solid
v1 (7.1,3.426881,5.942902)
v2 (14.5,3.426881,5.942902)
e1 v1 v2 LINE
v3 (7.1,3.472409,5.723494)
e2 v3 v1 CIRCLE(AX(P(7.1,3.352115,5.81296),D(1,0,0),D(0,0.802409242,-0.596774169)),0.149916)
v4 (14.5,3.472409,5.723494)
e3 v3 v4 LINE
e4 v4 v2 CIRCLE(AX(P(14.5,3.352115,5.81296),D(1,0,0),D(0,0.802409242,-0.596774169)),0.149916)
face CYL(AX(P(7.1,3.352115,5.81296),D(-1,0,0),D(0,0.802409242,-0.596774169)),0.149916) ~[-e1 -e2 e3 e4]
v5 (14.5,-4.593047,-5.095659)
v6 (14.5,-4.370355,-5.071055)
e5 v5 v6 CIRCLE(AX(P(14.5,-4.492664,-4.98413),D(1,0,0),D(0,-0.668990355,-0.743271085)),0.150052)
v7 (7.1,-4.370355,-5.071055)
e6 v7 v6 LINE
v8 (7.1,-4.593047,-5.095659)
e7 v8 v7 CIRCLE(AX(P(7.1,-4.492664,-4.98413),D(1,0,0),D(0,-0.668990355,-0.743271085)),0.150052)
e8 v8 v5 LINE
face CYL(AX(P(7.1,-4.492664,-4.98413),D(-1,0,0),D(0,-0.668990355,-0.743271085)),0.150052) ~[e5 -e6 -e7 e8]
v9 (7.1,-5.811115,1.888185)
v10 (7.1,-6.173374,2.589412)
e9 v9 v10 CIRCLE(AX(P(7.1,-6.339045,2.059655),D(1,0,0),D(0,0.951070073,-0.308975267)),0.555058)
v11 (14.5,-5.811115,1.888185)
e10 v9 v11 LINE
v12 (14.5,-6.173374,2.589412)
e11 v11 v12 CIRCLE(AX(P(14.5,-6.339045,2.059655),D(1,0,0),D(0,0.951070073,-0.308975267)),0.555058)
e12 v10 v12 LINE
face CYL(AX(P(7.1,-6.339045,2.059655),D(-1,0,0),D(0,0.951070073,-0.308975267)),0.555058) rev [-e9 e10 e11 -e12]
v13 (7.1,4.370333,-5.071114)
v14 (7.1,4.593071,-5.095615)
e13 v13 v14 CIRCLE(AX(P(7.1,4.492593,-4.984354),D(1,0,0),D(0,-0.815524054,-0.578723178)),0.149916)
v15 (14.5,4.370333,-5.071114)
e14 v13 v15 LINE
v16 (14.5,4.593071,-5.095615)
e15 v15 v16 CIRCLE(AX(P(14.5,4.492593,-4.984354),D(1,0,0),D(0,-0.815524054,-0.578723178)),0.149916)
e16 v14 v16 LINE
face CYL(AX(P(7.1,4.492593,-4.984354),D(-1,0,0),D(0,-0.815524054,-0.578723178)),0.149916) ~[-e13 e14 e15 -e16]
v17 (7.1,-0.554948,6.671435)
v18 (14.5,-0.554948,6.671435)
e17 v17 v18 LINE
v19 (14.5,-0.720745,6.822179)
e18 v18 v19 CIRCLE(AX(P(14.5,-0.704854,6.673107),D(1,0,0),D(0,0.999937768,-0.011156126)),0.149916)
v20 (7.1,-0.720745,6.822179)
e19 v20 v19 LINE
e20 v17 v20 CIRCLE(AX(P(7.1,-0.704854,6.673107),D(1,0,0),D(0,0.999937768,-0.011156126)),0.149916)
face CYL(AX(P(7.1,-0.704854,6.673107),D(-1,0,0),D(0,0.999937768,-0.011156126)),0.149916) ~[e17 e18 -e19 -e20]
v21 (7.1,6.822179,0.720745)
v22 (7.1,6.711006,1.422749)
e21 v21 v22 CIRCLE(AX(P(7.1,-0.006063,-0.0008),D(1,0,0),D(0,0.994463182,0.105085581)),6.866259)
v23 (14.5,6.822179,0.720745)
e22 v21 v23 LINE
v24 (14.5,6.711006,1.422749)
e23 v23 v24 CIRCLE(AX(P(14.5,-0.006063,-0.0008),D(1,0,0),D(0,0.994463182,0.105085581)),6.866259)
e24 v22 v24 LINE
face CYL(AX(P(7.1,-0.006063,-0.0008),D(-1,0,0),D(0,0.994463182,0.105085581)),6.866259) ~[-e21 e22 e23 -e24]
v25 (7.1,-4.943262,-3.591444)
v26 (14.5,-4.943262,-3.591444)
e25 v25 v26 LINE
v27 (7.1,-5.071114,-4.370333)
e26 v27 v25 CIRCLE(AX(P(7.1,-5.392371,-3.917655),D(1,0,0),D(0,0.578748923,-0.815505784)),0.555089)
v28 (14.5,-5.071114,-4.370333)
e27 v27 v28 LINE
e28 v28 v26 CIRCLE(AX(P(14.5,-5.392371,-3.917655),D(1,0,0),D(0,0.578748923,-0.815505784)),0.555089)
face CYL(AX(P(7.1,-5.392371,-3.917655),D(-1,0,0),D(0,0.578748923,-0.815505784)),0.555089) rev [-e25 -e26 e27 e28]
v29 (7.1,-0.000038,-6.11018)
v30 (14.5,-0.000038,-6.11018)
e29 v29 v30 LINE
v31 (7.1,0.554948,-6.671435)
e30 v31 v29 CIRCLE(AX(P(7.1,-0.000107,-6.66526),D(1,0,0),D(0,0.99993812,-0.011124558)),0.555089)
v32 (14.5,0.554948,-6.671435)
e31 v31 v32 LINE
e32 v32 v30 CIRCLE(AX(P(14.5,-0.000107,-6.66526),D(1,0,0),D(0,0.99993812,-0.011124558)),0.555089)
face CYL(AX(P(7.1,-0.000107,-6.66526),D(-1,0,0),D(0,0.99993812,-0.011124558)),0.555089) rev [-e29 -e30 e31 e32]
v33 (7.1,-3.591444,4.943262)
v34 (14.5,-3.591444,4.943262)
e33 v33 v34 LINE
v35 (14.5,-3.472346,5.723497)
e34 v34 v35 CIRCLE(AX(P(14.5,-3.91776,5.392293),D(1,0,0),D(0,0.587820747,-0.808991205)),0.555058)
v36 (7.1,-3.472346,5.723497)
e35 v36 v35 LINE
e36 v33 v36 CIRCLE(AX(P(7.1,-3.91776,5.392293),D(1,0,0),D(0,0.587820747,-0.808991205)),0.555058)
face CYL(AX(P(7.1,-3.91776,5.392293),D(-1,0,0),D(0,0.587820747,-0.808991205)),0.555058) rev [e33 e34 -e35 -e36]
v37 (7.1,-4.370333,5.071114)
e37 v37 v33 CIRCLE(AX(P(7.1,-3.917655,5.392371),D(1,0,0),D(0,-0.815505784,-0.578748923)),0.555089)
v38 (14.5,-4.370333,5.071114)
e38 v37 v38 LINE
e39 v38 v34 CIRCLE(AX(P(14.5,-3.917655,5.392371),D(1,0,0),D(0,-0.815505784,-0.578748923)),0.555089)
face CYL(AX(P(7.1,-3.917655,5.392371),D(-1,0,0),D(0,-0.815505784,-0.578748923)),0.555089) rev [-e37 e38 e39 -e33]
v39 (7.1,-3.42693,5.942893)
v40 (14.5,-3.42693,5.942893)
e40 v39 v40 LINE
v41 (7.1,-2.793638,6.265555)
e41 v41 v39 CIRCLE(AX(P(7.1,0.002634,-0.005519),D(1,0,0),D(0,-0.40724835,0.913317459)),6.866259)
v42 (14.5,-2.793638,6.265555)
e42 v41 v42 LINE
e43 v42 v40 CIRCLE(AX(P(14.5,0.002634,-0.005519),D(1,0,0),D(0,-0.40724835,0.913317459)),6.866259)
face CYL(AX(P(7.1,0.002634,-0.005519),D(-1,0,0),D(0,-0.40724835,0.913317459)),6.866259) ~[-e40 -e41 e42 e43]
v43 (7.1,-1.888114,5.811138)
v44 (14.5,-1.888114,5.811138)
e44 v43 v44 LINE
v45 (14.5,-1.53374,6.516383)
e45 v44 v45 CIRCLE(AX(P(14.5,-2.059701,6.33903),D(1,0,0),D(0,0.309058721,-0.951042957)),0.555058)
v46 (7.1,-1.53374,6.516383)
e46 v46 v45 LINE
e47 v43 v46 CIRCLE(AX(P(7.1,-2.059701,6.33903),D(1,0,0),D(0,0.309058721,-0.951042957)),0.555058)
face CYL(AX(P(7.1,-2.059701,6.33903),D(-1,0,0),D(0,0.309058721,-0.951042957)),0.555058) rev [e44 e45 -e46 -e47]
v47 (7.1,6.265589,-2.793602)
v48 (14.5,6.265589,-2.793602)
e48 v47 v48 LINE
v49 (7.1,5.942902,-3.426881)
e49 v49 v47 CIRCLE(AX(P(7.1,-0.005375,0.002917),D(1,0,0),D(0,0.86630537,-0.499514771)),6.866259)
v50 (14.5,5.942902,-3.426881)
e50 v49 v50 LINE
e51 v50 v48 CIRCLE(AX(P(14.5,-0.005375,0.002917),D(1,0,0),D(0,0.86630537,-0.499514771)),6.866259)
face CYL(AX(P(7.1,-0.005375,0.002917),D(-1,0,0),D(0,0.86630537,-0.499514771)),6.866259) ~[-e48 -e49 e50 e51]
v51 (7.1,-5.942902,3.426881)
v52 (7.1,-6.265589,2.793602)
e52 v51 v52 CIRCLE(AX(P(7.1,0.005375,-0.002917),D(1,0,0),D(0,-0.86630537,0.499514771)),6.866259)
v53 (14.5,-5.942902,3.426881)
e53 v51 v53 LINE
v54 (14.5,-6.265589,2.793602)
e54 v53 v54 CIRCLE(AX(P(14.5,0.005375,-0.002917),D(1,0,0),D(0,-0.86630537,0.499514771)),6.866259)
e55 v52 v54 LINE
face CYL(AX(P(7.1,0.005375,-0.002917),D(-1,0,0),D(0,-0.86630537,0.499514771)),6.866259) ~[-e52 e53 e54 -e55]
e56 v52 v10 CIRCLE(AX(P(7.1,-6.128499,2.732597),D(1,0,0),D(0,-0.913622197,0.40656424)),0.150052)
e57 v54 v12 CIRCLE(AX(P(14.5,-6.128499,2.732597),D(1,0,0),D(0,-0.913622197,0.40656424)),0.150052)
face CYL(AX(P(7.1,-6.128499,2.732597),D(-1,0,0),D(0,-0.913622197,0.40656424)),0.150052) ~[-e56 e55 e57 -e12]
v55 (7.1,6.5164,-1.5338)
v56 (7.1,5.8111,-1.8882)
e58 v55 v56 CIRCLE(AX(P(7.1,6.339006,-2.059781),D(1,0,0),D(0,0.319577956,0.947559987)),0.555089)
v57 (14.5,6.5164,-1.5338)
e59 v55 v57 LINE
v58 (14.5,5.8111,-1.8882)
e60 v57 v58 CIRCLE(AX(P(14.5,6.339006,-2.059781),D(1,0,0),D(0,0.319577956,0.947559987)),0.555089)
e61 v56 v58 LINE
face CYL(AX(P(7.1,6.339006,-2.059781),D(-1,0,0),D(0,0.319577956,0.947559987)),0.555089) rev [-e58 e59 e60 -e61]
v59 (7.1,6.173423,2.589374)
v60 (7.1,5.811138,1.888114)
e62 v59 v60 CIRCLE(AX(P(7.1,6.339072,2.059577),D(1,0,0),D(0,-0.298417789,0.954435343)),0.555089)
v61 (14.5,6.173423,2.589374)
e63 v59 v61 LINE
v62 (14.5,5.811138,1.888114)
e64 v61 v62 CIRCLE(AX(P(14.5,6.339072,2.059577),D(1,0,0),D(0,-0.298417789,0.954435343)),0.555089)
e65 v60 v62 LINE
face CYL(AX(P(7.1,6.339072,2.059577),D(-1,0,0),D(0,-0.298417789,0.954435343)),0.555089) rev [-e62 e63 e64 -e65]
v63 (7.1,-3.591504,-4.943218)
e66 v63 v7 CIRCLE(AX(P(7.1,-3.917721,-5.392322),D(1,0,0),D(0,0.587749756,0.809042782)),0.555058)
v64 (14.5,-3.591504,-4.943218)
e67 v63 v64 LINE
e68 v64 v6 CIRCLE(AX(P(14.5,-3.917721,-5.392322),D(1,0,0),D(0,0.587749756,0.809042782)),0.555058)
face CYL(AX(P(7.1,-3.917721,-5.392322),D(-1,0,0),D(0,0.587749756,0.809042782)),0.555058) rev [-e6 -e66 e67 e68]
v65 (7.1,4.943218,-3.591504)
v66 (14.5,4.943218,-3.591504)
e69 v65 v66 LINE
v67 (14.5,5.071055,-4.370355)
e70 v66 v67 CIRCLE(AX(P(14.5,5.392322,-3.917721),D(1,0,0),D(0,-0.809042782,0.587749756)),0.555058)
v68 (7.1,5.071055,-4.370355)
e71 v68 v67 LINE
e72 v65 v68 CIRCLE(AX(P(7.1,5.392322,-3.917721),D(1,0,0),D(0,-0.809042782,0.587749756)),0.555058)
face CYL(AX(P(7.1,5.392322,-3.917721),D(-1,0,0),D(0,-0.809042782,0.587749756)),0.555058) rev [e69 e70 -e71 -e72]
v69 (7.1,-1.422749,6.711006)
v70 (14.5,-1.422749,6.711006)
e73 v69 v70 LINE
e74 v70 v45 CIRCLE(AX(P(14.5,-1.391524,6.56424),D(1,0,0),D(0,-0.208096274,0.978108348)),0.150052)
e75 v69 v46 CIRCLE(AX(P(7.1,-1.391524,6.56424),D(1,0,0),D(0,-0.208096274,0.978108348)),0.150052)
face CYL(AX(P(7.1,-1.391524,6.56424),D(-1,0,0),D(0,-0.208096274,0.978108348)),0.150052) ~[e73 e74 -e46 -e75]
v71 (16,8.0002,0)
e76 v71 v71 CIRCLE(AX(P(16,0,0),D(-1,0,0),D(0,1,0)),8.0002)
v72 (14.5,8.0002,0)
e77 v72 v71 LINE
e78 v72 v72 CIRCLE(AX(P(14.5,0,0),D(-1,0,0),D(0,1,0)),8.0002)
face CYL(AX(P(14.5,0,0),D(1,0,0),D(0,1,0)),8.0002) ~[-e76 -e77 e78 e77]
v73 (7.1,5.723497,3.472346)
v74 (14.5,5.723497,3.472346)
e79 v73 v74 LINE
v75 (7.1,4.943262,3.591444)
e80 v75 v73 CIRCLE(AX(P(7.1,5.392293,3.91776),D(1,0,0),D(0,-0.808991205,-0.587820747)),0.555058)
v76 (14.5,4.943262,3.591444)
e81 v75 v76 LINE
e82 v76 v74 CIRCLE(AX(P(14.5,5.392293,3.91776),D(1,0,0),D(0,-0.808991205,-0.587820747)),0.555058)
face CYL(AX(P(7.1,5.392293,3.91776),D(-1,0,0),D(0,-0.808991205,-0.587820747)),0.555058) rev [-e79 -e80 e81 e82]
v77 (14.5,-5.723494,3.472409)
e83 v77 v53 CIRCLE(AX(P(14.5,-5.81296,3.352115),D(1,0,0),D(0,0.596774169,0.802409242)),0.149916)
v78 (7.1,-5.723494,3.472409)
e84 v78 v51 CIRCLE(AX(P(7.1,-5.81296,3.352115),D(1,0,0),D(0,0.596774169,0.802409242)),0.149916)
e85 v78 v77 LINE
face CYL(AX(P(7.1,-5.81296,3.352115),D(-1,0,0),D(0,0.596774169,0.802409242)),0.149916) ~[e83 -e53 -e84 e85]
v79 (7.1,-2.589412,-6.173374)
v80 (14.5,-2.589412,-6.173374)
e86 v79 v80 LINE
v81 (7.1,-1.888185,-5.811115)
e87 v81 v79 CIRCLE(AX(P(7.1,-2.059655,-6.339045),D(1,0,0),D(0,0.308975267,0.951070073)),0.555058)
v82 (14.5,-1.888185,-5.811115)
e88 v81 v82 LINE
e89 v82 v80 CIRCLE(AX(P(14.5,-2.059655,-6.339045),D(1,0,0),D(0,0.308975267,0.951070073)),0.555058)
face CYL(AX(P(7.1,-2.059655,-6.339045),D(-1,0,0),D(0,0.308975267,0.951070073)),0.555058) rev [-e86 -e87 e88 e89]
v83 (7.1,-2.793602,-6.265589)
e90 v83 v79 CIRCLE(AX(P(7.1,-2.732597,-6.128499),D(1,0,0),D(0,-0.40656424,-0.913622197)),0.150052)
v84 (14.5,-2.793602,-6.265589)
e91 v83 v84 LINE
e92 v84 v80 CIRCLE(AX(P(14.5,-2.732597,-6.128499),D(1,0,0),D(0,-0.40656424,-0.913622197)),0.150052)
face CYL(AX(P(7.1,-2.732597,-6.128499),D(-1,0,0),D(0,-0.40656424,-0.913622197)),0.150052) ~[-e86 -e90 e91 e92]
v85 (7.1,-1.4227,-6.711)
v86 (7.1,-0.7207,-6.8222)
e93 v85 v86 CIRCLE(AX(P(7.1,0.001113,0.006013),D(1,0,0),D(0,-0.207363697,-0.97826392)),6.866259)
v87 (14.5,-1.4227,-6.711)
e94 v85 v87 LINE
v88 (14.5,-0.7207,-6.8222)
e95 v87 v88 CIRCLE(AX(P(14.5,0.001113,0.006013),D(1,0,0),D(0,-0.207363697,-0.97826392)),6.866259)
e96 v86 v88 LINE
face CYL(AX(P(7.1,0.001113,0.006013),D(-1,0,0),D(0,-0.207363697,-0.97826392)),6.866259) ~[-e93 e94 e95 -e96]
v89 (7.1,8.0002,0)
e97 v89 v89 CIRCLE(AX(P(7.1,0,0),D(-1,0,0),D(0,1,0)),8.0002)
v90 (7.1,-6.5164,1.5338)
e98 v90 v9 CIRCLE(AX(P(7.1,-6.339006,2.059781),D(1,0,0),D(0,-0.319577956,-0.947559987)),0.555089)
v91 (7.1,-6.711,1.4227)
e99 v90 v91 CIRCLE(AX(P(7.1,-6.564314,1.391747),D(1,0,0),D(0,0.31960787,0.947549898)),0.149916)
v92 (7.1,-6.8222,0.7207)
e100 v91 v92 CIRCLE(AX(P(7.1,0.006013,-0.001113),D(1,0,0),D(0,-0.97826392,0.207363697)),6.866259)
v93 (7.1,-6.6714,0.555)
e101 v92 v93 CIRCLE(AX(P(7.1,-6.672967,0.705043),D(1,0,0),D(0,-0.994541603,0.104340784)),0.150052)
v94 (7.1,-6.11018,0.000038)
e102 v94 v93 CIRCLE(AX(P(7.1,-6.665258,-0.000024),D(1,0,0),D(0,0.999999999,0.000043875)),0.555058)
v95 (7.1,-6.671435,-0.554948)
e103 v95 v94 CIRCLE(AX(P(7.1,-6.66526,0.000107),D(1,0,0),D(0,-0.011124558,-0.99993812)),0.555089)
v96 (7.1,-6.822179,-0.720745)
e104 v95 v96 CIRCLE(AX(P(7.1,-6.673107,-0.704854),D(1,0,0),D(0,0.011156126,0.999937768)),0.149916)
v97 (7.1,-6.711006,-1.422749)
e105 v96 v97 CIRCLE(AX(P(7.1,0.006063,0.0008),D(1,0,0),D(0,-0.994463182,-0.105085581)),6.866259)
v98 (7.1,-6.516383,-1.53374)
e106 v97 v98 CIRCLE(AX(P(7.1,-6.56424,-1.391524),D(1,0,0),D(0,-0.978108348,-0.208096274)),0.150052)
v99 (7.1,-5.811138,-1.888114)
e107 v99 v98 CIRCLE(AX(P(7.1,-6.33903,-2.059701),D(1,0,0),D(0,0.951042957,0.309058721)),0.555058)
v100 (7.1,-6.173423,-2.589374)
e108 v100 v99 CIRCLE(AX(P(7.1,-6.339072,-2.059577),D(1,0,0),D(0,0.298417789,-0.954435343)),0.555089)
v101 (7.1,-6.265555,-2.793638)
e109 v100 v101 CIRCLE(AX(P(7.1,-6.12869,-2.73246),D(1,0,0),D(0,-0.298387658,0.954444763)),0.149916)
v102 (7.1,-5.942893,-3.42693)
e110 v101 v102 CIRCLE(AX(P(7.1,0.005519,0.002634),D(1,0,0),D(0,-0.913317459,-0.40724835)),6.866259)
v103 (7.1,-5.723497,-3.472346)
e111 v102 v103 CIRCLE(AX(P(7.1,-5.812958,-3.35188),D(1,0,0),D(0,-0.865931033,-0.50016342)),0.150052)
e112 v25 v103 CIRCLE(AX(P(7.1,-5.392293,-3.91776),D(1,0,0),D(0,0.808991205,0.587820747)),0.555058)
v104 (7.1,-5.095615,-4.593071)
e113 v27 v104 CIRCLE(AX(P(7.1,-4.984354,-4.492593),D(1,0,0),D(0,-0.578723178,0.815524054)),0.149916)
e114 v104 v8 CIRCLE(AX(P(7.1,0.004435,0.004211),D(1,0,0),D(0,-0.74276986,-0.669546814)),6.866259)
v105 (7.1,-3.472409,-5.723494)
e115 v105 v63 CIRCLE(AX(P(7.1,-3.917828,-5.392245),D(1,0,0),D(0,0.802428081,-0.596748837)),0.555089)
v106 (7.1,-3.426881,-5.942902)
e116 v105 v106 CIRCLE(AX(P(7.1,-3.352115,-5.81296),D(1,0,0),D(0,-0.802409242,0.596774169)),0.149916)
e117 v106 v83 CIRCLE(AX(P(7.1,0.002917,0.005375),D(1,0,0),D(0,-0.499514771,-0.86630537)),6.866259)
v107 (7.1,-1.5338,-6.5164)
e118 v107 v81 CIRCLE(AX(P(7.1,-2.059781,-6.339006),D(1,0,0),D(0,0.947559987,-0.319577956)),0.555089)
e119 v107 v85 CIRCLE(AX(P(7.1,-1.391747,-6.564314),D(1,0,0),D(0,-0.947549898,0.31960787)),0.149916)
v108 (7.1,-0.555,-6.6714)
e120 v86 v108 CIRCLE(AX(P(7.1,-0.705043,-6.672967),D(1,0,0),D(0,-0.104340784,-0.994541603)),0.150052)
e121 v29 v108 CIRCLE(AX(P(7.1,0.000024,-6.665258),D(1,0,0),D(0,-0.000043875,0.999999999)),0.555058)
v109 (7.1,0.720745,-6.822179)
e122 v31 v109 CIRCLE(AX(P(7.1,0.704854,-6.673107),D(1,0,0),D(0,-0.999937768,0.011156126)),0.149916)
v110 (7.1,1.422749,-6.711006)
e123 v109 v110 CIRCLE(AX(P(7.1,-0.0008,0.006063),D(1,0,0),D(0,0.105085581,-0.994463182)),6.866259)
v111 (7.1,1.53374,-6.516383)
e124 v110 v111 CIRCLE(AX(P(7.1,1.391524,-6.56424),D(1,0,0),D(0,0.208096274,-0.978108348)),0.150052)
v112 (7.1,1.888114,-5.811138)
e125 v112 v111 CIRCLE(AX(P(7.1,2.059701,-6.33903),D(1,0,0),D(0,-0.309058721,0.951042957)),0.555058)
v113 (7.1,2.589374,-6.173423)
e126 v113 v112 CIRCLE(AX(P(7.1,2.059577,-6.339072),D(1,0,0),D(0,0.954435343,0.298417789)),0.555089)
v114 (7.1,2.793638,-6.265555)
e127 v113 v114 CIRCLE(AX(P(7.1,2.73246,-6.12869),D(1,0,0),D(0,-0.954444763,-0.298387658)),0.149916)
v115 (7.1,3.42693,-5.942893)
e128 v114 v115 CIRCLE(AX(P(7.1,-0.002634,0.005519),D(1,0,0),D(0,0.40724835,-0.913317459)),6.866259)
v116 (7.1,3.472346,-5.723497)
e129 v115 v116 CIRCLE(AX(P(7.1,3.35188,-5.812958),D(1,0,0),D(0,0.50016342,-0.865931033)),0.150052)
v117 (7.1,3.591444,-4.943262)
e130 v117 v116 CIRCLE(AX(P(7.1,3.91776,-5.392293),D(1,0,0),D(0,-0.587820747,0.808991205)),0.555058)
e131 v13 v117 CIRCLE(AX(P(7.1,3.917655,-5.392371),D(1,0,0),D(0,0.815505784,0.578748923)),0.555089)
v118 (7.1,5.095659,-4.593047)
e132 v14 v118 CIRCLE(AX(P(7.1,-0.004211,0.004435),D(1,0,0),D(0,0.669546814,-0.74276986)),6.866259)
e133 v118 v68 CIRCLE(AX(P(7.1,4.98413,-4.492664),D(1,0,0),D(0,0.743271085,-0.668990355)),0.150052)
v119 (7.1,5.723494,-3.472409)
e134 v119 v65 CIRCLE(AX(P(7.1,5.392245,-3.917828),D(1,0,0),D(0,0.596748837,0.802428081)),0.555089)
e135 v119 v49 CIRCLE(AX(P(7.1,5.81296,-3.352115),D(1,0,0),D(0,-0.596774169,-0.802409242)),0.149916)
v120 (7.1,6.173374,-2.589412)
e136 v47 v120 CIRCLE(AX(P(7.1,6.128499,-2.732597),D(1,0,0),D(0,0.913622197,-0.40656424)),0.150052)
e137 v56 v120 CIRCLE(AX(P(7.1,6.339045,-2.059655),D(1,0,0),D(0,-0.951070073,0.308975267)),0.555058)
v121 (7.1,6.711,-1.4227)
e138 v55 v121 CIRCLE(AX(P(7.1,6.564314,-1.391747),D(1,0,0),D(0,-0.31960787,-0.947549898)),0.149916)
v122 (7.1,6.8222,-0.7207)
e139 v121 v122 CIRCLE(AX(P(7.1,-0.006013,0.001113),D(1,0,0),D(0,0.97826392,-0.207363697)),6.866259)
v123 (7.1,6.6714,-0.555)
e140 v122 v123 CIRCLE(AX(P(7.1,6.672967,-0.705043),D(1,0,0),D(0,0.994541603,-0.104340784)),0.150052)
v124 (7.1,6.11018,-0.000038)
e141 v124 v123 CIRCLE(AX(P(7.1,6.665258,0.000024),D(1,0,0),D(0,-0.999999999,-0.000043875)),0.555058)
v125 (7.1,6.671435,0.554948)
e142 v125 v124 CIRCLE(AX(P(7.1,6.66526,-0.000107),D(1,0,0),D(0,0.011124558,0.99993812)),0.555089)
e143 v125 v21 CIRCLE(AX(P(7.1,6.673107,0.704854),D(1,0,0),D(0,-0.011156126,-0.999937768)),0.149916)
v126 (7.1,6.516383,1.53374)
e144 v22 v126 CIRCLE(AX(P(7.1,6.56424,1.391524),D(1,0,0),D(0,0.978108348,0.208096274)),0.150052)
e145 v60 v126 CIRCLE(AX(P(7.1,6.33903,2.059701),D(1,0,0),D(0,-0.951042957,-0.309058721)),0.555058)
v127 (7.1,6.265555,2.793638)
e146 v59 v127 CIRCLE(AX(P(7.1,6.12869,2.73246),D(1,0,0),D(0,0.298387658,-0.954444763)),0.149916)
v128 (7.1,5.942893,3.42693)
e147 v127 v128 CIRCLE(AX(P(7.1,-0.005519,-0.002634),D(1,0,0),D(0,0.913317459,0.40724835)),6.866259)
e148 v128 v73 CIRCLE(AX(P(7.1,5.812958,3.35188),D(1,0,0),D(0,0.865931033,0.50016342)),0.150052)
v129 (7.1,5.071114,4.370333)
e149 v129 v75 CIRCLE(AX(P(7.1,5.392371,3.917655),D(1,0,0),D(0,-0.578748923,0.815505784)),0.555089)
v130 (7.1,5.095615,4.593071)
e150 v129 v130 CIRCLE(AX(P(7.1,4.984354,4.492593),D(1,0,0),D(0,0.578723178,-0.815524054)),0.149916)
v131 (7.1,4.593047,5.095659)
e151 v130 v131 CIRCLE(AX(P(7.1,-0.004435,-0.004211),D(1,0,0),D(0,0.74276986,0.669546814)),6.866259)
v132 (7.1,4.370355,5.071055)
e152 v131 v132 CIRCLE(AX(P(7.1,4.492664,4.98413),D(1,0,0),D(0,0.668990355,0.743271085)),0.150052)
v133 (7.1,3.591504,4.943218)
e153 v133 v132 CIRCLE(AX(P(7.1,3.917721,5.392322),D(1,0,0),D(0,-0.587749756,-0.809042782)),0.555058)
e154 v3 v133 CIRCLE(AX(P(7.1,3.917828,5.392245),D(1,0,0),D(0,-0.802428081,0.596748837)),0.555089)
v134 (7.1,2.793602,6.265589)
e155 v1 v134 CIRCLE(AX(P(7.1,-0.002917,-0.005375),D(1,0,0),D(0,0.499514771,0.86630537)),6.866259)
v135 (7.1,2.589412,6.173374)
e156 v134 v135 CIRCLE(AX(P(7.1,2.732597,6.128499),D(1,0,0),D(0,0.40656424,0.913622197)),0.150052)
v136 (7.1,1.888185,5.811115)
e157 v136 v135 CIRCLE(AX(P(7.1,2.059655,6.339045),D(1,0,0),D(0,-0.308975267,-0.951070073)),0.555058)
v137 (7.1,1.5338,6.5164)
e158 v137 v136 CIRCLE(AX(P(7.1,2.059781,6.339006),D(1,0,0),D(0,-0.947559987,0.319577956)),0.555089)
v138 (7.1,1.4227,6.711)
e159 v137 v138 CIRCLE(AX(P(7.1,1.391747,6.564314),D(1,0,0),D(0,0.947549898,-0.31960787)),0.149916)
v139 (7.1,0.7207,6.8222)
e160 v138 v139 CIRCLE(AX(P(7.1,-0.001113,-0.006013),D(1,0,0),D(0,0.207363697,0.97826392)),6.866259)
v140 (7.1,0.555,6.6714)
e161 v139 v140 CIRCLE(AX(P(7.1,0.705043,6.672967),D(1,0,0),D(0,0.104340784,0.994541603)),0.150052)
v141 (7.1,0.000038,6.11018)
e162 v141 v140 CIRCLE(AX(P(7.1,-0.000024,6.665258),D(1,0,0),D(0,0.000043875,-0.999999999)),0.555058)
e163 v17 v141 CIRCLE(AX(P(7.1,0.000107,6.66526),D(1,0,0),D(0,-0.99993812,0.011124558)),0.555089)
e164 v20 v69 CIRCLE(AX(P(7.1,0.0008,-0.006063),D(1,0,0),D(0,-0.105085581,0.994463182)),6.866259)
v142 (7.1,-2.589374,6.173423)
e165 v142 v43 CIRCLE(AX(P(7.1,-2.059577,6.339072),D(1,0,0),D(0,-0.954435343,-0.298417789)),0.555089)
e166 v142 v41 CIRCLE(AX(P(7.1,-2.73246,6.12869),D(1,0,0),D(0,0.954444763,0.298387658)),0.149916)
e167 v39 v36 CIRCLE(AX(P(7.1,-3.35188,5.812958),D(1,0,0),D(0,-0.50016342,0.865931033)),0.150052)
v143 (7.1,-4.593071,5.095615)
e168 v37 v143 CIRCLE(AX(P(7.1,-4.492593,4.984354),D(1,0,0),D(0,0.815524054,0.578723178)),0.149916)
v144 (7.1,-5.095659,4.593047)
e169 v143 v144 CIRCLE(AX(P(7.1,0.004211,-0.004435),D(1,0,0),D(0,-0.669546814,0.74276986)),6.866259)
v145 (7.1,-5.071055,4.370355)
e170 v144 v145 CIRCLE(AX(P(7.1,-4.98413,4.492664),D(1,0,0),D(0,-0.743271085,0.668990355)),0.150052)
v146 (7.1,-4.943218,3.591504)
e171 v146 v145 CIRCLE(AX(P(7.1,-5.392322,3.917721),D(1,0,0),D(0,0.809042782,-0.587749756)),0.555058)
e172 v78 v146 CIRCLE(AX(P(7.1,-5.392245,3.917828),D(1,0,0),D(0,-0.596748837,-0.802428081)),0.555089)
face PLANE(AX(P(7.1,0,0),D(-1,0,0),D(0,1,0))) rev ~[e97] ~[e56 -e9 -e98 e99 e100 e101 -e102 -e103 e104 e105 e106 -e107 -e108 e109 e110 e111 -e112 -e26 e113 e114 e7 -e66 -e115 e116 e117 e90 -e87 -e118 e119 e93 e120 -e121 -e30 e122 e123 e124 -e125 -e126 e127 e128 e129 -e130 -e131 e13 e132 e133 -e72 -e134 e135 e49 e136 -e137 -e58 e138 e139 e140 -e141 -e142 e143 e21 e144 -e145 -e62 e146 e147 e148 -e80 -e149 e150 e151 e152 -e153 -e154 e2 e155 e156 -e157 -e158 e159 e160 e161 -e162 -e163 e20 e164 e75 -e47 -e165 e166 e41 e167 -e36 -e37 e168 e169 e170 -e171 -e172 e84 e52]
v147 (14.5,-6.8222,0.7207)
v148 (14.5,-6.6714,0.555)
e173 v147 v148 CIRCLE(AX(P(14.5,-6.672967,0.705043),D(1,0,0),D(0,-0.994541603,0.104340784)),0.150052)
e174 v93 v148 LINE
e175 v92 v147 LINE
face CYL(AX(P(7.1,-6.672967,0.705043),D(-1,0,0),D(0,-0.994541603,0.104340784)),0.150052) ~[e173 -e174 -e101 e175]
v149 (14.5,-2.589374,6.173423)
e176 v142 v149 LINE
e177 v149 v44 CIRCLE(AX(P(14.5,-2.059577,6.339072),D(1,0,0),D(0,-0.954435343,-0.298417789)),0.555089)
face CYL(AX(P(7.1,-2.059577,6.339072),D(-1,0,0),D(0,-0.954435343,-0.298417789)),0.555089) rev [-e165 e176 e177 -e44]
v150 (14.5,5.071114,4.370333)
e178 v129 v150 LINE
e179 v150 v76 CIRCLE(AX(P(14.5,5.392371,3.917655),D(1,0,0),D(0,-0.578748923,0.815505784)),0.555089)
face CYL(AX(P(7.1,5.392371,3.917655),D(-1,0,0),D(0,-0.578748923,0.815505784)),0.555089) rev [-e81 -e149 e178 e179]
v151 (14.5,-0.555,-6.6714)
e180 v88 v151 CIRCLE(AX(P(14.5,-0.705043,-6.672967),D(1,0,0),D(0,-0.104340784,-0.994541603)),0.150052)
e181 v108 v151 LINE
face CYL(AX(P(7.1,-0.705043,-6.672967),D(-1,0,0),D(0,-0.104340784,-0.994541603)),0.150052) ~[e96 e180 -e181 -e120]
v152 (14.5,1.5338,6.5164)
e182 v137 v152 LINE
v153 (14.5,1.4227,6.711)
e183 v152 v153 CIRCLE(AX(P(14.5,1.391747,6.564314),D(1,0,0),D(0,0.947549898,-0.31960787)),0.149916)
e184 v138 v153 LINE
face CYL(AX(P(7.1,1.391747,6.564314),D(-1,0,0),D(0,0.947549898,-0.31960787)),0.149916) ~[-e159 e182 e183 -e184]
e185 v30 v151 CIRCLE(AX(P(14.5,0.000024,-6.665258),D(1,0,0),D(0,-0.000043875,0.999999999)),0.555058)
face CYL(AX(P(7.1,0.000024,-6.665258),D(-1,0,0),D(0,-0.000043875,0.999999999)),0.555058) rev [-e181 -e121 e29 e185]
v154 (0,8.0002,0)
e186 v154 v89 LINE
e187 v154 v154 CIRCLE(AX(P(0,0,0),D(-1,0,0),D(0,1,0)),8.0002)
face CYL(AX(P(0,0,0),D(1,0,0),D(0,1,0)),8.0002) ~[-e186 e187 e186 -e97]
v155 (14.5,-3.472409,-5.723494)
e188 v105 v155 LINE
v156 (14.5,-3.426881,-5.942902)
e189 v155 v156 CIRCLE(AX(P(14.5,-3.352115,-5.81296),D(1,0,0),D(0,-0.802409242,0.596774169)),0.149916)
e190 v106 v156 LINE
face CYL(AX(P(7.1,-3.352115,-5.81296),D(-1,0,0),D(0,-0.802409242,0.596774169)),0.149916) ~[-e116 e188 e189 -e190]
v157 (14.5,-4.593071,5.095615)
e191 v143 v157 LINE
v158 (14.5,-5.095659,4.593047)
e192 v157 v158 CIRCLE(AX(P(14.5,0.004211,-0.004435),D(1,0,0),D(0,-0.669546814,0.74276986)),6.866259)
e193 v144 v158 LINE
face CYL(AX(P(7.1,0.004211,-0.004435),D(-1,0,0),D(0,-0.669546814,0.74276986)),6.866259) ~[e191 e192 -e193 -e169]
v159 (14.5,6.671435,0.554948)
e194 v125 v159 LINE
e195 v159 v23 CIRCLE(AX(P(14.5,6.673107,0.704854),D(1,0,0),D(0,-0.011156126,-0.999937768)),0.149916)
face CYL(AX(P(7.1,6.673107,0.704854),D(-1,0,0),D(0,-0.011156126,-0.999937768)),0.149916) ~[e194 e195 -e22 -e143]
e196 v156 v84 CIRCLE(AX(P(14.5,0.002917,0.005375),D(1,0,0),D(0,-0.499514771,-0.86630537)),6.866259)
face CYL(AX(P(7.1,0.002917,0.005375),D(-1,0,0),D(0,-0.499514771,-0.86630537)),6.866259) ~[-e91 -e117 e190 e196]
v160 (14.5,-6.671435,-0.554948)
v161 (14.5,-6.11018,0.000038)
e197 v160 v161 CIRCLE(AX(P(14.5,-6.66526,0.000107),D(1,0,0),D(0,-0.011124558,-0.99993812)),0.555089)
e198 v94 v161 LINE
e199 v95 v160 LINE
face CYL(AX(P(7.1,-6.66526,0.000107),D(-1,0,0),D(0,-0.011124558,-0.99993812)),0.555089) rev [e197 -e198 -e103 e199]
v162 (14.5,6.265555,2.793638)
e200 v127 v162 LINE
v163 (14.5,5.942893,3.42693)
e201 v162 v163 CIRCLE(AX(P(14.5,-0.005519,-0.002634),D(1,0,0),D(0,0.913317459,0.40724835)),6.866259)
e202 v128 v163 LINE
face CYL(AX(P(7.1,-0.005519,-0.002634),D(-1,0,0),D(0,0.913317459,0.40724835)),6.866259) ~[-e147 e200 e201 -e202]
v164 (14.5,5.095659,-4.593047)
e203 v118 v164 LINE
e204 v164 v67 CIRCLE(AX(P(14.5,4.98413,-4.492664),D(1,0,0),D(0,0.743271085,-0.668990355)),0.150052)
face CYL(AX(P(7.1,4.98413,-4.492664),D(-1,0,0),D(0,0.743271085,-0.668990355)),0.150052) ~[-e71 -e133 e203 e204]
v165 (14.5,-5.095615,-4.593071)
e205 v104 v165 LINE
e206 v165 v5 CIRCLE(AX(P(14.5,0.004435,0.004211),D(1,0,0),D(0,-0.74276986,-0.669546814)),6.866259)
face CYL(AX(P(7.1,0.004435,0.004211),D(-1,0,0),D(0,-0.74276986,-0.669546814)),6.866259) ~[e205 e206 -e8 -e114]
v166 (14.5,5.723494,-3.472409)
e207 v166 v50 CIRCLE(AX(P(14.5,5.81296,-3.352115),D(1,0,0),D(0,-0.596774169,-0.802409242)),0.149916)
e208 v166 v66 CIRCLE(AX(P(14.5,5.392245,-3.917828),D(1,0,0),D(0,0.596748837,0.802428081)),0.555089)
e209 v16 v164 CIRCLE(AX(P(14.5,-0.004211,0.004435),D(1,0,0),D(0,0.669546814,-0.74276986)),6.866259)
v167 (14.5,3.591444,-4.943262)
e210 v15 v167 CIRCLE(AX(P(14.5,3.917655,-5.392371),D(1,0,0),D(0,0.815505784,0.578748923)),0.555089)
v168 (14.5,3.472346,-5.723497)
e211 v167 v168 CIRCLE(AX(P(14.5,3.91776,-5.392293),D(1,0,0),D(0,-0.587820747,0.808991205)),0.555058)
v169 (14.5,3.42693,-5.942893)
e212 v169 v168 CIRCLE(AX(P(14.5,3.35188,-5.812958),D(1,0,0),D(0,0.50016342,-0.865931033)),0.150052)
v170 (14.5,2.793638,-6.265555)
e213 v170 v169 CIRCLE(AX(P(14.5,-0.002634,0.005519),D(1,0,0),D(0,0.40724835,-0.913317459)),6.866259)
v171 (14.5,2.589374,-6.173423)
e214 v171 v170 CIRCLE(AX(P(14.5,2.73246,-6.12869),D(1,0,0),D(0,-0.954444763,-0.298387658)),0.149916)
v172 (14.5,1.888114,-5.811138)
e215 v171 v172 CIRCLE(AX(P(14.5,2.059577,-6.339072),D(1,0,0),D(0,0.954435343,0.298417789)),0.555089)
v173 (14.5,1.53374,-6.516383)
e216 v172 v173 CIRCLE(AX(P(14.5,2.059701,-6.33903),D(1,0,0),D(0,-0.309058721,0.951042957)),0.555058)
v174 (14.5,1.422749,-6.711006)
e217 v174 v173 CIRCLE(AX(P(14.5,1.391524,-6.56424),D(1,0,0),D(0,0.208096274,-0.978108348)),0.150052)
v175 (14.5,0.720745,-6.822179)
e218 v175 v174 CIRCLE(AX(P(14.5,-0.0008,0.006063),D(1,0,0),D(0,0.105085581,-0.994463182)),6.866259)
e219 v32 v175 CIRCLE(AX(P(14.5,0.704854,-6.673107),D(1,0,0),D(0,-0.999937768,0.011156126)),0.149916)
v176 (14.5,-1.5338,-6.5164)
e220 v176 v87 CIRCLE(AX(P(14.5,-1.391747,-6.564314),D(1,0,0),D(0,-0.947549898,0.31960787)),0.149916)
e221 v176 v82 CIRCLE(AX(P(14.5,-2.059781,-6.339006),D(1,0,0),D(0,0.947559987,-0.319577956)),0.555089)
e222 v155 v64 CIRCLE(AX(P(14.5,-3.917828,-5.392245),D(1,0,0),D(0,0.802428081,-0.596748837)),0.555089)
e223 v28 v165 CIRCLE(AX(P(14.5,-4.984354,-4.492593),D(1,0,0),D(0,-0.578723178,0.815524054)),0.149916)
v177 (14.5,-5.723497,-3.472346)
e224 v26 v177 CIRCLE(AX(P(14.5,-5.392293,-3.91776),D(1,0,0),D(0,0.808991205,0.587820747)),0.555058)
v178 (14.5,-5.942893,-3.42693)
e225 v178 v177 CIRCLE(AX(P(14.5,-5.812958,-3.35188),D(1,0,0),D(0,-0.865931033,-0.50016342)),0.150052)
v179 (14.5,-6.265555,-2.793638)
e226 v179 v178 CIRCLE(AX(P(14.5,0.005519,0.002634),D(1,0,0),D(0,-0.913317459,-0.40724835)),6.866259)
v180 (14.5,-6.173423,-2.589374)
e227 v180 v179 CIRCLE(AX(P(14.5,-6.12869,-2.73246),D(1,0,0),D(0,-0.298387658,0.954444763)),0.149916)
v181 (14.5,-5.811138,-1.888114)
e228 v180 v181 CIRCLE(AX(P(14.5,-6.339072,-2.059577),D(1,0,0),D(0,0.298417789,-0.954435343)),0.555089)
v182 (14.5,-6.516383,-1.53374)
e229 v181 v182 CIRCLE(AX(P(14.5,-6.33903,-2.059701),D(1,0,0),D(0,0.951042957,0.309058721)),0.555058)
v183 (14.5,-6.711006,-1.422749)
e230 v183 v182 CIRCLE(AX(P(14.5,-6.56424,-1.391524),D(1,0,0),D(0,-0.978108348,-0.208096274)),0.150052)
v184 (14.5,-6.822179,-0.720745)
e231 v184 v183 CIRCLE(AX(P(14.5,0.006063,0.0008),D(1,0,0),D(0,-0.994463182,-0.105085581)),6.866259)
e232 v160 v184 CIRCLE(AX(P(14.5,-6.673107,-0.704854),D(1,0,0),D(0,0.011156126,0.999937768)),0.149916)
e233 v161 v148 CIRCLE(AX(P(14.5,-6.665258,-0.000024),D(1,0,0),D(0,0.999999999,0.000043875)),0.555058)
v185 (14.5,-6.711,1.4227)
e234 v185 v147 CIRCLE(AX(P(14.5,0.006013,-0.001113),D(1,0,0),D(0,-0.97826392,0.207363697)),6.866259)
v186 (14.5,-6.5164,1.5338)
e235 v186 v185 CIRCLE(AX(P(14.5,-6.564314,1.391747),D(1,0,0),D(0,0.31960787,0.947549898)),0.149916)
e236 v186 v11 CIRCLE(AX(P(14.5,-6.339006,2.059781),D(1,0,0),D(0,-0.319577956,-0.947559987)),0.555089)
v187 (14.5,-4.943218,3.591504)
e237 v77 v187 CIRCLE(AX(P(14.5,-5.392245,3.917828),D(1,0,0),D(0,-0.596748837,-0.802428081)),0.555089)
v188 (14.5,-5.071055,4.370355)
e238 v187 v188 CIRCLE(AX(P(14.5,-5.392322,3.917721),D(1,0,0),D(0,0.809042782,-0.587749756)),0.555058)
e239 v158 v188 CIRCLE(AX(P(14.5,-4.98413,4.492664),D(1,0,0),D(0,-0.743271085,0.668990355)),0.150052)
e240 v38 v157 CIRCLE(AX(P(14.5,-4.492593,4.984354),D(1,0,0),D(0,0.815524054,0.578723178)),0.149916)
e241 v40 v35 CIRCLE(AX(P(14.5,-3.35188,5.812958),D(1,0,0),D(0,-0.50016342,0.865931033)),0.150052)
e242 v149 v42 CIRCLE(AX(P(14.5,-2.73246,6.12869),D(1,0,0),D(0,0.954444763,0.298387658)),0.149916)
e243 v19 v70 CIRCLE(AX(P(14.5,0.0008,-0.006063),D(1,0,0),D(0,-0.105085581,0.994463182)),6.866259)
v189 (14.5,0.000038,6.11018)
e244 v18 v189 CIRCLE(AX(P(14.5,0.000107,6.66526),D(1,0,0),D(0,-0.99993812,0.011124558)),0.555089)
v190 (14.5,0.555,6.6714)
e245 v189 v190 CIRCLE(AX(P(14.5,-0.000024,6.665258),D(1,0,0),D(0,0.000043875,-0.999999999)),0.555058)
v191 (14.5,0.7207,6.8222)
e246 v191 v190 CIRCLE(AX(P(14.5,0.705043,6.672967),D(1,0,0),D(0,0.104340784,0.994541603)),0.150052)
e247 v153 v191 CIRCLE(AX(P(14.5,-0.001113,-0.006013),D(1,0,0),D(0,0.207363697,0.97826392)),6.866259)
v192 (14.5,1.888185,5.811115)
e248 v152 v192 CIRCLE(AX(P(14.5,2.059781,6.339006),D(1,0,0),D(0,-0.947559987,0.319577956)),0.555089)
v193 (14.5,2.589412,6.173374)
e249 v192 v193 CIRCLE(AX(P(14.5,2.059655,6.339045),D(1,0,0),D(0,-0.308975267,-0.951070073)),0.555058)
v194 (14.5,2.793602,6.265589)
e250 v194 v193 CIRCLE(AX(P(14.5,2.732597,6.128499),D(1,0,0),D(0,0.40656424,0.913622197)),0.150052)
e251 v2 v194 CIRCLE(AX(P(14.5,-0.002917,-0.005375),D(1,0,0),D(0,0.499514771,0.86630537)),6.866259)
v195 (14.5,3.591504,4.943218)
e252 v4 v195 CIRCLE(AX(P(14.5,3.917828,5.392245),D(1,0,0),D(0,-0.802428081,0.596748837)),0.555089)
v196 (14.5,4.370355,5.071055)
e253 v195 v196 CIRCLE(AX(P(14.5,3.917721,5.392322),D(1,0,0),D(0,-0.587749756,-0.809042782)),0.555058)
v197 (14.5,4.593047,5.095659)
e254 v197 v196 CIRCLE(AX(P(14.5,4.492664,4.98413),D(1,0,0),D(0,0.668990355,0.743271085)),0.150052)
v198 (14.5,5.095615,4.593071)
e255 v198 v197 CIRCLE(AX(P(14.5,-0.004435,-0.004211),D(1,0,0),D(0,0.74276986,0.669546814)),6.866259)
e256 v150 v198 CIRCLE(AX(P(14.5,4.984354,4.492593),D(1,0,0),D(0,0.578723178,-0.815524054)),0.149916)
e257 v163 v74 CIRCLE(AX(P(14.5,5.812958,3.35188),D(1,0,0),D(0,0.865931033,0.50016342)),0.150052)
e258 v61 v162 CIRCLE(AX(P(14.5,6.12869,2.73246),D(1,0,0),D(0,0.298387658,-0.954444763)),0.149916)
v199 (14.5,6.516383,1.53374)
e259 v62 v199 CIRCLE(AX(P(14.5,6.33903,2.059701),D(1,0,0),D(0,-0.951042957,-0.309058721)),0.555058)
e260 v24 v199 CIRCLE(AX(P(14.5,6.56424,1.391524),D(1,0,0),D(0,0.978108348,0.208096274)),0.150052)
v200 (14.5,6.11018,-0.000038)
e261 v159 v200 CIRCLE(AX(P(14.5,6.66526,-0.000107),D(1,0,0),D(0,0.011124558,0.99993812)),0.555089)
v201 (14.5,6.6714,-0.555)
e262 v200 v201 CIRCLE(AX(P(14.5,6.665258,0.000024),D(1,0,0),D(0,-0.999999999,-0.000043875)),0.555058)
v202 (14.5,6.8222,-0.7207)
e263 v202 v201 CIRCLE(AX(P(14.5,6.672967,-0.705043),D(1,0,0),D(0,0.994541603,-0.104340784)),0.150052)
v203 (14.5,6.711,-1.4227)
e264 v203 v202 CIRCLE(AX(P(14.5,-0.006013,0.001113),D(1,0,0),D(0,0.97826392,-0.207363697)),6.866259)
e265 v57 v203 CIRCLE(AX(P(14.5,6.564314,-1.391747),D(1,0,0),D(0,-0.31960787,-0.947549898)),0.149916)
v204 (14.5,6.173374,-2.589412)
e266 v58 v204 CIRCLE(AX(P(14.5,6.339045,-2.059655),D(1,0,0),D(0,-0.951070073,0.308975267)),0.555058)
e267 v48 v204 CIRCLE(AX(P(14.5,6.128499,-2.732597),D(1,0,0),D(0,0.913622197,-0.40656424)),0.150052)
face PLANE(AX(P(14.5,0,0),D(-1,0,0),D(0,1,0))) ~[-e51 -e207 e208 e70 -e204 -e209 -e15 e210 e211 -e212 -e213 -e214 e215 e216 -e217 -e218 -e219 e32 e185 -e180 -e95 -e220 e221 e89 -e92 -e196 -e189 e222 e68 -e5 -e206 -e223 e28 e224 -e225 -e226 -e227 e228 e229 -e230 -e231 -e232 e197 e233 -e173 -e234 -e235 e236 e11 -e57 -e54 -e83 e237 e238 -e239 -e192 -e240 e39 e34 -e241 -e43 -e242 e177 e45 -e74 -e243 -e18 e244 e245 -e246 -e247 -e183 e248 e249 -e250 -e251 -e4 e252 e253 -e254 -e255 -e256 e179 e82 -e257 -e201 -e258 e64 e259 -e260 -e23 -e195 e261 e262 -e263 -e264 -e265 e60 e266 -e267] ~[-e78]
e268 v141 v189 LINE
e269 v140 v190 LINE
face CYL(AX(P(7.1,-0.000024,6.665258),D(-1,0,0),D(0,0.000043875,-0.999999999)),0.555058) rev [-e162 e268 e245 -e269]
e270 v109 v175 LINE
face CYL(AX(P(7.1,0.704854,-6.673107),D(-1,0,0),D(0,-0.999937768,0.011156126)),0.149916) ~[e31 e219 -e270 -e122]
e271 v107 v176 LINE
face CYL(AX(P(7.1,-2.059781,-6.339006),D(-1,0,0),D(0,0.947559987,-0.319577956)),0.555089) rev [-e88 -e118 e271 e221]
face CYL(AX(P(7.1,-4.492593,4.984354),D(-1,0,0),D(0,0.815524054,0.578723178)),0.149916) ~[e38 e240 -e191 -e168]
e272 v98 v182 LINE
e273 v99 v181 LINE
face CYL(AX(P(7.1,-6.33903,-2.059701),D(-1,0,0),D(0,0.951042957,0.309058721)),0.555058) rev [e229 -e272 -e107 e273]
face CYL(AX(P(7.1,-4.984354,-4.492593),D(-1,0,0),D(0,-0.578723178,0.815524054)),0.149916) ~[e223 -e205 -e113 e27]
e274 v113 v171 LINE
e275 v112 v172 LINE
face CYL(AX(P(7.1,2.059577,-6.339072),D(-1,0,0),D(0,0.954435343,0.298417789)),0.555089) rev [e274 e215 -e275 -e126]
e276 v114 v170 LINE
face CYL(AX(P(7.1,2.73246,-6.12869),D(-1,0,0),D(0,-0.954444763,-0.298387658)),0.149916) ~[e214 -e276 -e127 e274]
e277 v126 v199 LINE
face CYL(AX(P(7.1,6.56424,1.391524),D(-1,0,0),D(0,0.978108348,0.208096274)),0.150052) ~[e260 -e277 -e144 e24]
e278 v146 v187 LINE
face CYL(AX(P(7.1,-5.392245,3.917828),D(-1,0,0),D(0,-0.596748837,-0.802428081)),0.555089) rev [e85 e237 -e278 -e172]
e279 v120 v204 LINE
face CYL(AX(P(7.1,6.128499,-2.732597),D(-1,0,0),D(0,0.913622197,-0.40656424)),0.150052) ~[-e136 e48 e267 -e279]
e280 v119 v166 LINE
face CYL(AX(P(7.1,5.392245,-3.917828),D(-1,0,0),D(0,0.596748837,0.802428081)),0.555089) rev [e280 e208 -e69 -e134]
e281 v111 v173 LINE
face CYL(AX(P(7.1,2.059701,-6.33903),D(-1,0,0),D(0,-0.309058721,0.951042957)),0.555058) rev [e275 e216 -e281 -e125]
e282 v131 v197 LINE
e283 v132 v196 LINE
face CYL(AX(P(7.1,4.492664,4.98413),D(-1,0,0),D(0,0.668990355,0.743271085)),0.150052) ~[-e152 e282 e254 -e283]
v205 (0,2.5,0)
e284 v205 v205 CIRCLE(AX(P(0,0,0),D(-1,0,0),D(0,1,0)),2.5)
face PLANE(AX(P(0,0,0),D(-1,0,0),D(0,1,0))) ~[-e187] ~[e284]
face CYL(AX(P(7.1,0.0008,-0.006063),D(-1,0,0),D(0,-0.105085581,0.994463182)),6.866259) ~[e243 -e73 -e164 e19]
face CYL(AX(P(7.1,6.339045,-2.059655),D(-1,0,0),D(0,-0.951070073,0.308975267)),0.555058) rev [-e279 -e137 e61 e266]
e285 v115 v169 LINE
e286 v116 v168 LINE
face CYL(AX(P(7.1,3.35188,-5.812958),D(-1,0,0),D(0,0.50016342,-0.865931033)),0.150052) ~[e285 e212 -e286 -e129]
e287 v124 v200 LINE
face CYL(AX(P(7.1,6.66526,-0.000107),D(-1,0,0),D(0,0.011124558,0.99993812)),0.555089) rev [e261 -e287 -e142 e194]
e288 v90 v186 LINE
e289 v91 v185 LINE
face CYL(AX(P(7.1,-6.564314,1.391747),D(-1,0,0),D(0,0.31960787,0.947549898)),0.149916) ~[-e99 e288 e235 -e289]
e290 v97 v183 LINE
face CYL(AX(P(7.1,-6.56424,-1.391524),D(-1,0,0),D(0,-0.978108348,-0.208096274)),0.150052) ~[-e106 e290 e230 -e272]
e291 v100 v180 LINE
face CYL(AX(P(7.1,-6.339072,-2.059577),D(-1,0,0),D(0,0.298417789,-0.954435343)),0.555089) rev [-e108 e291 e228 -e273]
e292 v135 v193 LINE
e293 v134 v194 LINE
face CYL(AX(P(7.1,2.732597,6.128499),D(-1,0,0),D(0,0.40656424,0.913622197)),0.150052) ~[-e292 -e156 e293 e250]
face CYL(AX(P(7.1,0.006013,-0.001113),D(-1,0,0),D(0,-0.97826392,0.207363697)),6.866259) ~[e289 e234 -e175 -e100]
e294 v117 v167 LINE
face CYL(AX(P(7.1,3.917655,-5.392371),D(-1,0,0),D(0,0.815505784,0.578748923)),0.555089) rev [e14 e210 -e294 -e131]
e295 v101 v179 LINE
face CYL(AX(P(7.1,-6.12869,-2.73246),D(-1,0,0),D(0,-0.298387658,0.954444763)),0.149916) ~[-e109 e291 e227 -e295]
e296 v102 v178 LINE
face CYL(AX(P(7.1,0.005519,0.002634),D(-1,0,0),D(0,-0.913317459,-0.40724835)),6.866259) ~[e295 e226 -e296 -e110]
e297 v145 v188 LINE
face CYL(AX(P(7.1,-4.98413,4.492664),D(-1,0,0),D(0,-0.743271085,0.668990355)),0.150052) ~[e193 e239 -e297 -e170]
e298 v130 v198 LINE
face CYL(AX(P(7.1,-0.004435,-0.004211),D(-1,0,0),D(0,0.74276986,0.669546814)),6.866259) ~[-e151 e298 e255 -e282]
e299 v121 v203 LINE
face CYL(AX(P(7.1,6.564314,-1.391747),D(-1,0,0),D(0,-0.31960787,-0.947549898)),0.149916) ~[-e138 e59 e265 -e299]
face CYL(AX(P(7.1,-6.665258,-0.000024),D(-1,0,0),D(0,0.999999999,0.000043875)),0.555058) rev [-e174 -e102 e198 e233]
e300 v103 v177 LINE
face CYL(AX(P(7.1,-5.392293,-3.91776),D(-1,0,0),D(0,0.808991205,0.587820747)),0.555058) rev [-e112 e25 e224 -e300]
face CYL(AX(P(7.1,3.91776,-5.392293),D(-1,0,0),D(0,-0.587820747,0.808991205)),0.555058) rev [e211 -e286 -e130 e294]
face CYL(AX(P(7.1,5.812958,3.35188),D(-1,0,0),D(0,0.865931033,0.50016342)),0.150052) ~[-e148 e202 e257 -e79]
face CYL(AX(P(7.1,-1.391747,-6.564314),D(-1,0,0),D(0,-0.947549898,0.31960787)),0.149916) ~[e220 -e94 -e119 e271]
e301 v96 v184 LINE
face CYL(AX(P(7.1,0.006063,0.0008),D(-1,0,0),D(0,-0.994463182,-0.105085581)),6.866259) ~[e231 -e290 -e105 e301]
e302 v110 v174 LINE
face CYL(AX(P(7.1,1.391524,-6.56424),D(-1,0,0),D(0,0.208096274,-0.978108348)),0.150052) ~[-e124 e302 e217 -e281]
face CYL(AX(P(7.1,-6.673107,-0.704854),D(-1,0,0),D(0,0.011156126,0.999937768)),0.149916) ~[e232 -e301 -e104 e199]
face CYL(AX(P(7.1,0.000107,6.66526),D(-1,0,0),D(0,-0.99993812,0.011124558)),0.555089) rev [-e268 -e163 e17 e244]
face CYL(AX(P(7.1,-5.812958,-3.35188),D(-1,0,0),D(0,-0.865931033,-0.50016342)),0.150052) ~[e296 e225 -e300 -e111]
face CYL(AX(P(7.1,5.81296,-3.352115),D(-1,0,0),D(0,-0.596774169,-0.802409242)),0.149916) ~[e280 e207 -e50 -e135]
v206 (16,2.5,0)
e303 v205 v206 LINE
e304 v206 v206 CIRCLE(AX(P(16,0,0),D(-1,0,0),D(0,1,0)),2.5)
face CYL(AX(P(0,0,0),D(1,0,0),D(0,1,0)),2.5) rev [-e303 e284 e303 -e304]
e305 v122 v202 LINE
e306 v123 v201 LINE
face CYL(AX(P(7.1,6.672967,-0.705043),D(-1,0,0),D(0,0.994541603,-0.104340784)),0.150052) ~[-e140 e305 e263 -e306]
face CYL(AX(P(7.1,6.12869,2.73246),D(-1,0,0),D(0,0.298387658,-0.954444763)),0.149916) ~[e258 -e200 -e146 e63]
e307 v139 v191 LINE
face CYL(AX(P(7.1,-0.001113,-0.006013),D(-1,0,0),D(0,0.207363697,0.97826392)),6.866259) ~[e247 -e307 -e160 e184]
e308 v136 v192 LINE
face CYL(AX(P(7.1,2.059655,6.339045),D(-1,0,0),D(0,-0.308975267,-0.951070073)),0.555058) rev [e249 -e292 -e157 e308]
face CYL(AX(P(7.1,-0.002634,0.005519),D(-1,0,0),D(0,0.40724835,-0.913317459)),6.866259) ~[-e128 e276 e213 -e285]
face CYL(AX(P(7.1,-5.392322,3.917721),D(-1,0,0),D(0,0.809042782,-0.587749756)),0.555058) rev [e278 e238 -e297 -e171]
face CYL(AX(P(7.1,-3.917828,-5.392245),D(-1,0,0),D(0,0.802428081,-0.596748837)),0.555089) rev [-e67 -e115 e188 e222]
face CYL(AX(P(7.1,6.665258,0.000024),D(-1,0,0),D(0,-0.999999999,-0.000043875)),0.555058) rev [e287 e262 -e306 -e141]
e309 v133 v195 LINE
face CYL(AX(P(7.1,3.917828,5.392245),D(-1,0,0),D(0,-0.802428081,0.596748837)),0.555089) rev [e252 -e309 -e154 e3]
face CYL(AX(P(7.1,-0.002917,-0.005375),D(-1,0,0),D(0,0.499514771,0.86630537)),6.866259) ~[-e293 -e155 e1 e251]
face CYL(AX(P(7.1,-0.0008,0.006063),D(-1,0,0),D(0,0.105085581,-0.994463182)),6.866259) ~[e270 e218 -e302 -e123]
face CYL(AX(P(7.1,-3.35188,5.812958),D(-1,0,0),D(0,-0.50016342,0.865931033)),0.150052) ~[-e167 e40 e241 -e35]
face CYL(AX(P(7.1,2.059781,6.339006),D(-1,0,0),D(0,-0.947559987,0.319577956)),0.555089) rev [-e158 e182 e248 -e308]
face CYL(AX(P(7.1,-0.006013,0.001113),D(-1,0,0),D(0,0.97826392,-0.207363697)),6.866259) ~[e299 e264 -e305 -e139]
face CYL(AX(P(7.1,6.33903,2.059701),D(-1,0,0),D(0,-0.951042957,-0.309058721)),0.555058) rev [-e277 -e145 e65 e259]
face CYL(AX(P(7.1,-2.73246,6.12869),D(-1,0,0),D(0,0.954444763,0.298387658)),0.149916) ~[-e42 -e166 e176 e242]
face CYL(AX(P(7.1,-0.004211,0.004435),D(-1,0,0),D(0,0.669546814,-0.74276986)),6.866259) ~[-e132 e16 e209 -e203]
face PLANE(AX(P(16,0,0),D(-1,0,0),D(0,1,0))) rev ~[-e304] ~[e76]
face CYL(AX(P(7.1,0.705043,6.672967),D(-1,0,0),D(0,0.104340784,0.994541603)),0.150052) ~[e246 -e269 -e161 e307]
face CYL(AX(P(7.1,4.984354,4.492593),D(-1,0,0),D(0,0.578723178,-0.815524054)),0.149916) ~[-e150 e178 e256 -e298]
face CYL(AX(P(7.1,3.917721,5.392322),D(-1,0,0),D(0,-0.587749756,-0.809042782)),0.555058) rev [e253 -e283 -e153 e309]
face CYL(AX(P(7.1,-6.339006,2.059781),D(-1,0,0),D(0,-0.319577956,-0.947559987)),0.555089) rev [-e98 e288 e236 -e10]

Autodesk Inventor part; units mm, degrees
ref_plane "YZ Plane" through (0, 0, 0) normal (1, 0, 0) x (0, 1, 0)
ref_plane "XZ Plane" through (0, 0, 0) normal (0, 1, 0) x (-1, 0, 0)
ref_plane "XY Plane" through (0, 0, 0) normal (0, 0, 1) x (1, 0, 0)
sketch "Sketch1" plane through (0, 0, 0) normal (0, 0, 1) x (1, 0, 0)
  line L0 (0, 2.5) -> (0, 8.0002)
  line L1 (0, 8.0002) -> (7.1, 8.0002)
  line L2 (7.1, 8.0002) -> (7.1, 6.1102)
  line L3 (7.1, 6.1102) -> (14.5, 6.1102)
  line L4 (14.5, 6.1102) -> (14.5, 8.0002)
  line L5 (14.5, 8.0002) -> (16, 8.0002)
  line L6 (16, 8.0002) -> (16, 2.5)
  line L7 (16, 0) -> (0, 0)
  line L8 (0, 2.5) -> (16, 2.5)
  dimension "L" = 16
  dimension "d1" = 7.1
  dimension "DE" = 16.0004
  dimension "d3" = 12.2204
  dimension "d4" = 7.4
  dimension "d5" = 16.0004
  dimension "Bore" = 5
revolve "Revolution1" add sketch "Sketch1" angle 360 about axis through (16, 0, 0) along (-1, 0, 0)
sketch "Sketch3" plane through (7.1, 0, 0) normal (1, 0, 0) x (0, 0, -1)
  line L0 (0, 0) -> (0, 8.9731) construction
  line L1 (0, 0) -> (1.4779, 9.3313) construction
  line L2 (0, 0) -> (2.089, 9.3456) construction
  line L3 (0, 0) -> (2.8787, 8.8598) construction
  circle A0 centre (0, 0) radius 6.1102
  circle A1 centre (0, 0) radius 6.6652 construction
  arc A2 (1.5338, 6.5164) -> (1.4227, 6.711) centre (1.3916, 6.5643) ccw
  arc A3 (1.5338, 6.5164) -> (1.8882, 5.8111) centre (2.0597, 6.339) ccw
  arc A4 (0.7207, 6.8222) -> (0.555, 6.6714) centre (0.705, 6.6731) ccw
  arc A5 (0, 6.1102) -> (0.555, 6.6714) centre (0, 6.6652) ccw
  circle A6 centre (0, 0.0002) radius 6.3662 construction
  arc A7 (1.4227, 6.711) -> (0.7207, 6.8222) centre (0, 0) ccw
  point P0 (0, 6.1102)
  dimension "di" = 12.2204
  dimension "d12" = 0.555
  dimension "d8" = 9
  dimension "ANGLEP" = 18
  dimension "d10" = 3.6
  dimension "d16" = 0.3
  dimension "d17" = 0.555
  dimension "d18" = 0.15
  dimension "PD" = 12.7324
extrude "Extrusion2" add sketch "Sketch3" along normal up to surface (7.4 mm away) contours A0 A5 A4 A7 A2 A3
pattern_circular "Circular Pattern2" count 20 over 360 about axis through (-10, 0, 0) along (1, 0, 0) of "Extrusion2"
equation "\"d3\" = di"
equation "\"d5\" = DE"
equation "\"d8\" = 0.5 * ANGLEP"
equation "\"d10\" = 0.2 * ANGLEP"
equation "\"PD\" = 0.63662 * zz"
equation "\"zz\" = 20"
properties part number "GT2Pulley_Tests"
